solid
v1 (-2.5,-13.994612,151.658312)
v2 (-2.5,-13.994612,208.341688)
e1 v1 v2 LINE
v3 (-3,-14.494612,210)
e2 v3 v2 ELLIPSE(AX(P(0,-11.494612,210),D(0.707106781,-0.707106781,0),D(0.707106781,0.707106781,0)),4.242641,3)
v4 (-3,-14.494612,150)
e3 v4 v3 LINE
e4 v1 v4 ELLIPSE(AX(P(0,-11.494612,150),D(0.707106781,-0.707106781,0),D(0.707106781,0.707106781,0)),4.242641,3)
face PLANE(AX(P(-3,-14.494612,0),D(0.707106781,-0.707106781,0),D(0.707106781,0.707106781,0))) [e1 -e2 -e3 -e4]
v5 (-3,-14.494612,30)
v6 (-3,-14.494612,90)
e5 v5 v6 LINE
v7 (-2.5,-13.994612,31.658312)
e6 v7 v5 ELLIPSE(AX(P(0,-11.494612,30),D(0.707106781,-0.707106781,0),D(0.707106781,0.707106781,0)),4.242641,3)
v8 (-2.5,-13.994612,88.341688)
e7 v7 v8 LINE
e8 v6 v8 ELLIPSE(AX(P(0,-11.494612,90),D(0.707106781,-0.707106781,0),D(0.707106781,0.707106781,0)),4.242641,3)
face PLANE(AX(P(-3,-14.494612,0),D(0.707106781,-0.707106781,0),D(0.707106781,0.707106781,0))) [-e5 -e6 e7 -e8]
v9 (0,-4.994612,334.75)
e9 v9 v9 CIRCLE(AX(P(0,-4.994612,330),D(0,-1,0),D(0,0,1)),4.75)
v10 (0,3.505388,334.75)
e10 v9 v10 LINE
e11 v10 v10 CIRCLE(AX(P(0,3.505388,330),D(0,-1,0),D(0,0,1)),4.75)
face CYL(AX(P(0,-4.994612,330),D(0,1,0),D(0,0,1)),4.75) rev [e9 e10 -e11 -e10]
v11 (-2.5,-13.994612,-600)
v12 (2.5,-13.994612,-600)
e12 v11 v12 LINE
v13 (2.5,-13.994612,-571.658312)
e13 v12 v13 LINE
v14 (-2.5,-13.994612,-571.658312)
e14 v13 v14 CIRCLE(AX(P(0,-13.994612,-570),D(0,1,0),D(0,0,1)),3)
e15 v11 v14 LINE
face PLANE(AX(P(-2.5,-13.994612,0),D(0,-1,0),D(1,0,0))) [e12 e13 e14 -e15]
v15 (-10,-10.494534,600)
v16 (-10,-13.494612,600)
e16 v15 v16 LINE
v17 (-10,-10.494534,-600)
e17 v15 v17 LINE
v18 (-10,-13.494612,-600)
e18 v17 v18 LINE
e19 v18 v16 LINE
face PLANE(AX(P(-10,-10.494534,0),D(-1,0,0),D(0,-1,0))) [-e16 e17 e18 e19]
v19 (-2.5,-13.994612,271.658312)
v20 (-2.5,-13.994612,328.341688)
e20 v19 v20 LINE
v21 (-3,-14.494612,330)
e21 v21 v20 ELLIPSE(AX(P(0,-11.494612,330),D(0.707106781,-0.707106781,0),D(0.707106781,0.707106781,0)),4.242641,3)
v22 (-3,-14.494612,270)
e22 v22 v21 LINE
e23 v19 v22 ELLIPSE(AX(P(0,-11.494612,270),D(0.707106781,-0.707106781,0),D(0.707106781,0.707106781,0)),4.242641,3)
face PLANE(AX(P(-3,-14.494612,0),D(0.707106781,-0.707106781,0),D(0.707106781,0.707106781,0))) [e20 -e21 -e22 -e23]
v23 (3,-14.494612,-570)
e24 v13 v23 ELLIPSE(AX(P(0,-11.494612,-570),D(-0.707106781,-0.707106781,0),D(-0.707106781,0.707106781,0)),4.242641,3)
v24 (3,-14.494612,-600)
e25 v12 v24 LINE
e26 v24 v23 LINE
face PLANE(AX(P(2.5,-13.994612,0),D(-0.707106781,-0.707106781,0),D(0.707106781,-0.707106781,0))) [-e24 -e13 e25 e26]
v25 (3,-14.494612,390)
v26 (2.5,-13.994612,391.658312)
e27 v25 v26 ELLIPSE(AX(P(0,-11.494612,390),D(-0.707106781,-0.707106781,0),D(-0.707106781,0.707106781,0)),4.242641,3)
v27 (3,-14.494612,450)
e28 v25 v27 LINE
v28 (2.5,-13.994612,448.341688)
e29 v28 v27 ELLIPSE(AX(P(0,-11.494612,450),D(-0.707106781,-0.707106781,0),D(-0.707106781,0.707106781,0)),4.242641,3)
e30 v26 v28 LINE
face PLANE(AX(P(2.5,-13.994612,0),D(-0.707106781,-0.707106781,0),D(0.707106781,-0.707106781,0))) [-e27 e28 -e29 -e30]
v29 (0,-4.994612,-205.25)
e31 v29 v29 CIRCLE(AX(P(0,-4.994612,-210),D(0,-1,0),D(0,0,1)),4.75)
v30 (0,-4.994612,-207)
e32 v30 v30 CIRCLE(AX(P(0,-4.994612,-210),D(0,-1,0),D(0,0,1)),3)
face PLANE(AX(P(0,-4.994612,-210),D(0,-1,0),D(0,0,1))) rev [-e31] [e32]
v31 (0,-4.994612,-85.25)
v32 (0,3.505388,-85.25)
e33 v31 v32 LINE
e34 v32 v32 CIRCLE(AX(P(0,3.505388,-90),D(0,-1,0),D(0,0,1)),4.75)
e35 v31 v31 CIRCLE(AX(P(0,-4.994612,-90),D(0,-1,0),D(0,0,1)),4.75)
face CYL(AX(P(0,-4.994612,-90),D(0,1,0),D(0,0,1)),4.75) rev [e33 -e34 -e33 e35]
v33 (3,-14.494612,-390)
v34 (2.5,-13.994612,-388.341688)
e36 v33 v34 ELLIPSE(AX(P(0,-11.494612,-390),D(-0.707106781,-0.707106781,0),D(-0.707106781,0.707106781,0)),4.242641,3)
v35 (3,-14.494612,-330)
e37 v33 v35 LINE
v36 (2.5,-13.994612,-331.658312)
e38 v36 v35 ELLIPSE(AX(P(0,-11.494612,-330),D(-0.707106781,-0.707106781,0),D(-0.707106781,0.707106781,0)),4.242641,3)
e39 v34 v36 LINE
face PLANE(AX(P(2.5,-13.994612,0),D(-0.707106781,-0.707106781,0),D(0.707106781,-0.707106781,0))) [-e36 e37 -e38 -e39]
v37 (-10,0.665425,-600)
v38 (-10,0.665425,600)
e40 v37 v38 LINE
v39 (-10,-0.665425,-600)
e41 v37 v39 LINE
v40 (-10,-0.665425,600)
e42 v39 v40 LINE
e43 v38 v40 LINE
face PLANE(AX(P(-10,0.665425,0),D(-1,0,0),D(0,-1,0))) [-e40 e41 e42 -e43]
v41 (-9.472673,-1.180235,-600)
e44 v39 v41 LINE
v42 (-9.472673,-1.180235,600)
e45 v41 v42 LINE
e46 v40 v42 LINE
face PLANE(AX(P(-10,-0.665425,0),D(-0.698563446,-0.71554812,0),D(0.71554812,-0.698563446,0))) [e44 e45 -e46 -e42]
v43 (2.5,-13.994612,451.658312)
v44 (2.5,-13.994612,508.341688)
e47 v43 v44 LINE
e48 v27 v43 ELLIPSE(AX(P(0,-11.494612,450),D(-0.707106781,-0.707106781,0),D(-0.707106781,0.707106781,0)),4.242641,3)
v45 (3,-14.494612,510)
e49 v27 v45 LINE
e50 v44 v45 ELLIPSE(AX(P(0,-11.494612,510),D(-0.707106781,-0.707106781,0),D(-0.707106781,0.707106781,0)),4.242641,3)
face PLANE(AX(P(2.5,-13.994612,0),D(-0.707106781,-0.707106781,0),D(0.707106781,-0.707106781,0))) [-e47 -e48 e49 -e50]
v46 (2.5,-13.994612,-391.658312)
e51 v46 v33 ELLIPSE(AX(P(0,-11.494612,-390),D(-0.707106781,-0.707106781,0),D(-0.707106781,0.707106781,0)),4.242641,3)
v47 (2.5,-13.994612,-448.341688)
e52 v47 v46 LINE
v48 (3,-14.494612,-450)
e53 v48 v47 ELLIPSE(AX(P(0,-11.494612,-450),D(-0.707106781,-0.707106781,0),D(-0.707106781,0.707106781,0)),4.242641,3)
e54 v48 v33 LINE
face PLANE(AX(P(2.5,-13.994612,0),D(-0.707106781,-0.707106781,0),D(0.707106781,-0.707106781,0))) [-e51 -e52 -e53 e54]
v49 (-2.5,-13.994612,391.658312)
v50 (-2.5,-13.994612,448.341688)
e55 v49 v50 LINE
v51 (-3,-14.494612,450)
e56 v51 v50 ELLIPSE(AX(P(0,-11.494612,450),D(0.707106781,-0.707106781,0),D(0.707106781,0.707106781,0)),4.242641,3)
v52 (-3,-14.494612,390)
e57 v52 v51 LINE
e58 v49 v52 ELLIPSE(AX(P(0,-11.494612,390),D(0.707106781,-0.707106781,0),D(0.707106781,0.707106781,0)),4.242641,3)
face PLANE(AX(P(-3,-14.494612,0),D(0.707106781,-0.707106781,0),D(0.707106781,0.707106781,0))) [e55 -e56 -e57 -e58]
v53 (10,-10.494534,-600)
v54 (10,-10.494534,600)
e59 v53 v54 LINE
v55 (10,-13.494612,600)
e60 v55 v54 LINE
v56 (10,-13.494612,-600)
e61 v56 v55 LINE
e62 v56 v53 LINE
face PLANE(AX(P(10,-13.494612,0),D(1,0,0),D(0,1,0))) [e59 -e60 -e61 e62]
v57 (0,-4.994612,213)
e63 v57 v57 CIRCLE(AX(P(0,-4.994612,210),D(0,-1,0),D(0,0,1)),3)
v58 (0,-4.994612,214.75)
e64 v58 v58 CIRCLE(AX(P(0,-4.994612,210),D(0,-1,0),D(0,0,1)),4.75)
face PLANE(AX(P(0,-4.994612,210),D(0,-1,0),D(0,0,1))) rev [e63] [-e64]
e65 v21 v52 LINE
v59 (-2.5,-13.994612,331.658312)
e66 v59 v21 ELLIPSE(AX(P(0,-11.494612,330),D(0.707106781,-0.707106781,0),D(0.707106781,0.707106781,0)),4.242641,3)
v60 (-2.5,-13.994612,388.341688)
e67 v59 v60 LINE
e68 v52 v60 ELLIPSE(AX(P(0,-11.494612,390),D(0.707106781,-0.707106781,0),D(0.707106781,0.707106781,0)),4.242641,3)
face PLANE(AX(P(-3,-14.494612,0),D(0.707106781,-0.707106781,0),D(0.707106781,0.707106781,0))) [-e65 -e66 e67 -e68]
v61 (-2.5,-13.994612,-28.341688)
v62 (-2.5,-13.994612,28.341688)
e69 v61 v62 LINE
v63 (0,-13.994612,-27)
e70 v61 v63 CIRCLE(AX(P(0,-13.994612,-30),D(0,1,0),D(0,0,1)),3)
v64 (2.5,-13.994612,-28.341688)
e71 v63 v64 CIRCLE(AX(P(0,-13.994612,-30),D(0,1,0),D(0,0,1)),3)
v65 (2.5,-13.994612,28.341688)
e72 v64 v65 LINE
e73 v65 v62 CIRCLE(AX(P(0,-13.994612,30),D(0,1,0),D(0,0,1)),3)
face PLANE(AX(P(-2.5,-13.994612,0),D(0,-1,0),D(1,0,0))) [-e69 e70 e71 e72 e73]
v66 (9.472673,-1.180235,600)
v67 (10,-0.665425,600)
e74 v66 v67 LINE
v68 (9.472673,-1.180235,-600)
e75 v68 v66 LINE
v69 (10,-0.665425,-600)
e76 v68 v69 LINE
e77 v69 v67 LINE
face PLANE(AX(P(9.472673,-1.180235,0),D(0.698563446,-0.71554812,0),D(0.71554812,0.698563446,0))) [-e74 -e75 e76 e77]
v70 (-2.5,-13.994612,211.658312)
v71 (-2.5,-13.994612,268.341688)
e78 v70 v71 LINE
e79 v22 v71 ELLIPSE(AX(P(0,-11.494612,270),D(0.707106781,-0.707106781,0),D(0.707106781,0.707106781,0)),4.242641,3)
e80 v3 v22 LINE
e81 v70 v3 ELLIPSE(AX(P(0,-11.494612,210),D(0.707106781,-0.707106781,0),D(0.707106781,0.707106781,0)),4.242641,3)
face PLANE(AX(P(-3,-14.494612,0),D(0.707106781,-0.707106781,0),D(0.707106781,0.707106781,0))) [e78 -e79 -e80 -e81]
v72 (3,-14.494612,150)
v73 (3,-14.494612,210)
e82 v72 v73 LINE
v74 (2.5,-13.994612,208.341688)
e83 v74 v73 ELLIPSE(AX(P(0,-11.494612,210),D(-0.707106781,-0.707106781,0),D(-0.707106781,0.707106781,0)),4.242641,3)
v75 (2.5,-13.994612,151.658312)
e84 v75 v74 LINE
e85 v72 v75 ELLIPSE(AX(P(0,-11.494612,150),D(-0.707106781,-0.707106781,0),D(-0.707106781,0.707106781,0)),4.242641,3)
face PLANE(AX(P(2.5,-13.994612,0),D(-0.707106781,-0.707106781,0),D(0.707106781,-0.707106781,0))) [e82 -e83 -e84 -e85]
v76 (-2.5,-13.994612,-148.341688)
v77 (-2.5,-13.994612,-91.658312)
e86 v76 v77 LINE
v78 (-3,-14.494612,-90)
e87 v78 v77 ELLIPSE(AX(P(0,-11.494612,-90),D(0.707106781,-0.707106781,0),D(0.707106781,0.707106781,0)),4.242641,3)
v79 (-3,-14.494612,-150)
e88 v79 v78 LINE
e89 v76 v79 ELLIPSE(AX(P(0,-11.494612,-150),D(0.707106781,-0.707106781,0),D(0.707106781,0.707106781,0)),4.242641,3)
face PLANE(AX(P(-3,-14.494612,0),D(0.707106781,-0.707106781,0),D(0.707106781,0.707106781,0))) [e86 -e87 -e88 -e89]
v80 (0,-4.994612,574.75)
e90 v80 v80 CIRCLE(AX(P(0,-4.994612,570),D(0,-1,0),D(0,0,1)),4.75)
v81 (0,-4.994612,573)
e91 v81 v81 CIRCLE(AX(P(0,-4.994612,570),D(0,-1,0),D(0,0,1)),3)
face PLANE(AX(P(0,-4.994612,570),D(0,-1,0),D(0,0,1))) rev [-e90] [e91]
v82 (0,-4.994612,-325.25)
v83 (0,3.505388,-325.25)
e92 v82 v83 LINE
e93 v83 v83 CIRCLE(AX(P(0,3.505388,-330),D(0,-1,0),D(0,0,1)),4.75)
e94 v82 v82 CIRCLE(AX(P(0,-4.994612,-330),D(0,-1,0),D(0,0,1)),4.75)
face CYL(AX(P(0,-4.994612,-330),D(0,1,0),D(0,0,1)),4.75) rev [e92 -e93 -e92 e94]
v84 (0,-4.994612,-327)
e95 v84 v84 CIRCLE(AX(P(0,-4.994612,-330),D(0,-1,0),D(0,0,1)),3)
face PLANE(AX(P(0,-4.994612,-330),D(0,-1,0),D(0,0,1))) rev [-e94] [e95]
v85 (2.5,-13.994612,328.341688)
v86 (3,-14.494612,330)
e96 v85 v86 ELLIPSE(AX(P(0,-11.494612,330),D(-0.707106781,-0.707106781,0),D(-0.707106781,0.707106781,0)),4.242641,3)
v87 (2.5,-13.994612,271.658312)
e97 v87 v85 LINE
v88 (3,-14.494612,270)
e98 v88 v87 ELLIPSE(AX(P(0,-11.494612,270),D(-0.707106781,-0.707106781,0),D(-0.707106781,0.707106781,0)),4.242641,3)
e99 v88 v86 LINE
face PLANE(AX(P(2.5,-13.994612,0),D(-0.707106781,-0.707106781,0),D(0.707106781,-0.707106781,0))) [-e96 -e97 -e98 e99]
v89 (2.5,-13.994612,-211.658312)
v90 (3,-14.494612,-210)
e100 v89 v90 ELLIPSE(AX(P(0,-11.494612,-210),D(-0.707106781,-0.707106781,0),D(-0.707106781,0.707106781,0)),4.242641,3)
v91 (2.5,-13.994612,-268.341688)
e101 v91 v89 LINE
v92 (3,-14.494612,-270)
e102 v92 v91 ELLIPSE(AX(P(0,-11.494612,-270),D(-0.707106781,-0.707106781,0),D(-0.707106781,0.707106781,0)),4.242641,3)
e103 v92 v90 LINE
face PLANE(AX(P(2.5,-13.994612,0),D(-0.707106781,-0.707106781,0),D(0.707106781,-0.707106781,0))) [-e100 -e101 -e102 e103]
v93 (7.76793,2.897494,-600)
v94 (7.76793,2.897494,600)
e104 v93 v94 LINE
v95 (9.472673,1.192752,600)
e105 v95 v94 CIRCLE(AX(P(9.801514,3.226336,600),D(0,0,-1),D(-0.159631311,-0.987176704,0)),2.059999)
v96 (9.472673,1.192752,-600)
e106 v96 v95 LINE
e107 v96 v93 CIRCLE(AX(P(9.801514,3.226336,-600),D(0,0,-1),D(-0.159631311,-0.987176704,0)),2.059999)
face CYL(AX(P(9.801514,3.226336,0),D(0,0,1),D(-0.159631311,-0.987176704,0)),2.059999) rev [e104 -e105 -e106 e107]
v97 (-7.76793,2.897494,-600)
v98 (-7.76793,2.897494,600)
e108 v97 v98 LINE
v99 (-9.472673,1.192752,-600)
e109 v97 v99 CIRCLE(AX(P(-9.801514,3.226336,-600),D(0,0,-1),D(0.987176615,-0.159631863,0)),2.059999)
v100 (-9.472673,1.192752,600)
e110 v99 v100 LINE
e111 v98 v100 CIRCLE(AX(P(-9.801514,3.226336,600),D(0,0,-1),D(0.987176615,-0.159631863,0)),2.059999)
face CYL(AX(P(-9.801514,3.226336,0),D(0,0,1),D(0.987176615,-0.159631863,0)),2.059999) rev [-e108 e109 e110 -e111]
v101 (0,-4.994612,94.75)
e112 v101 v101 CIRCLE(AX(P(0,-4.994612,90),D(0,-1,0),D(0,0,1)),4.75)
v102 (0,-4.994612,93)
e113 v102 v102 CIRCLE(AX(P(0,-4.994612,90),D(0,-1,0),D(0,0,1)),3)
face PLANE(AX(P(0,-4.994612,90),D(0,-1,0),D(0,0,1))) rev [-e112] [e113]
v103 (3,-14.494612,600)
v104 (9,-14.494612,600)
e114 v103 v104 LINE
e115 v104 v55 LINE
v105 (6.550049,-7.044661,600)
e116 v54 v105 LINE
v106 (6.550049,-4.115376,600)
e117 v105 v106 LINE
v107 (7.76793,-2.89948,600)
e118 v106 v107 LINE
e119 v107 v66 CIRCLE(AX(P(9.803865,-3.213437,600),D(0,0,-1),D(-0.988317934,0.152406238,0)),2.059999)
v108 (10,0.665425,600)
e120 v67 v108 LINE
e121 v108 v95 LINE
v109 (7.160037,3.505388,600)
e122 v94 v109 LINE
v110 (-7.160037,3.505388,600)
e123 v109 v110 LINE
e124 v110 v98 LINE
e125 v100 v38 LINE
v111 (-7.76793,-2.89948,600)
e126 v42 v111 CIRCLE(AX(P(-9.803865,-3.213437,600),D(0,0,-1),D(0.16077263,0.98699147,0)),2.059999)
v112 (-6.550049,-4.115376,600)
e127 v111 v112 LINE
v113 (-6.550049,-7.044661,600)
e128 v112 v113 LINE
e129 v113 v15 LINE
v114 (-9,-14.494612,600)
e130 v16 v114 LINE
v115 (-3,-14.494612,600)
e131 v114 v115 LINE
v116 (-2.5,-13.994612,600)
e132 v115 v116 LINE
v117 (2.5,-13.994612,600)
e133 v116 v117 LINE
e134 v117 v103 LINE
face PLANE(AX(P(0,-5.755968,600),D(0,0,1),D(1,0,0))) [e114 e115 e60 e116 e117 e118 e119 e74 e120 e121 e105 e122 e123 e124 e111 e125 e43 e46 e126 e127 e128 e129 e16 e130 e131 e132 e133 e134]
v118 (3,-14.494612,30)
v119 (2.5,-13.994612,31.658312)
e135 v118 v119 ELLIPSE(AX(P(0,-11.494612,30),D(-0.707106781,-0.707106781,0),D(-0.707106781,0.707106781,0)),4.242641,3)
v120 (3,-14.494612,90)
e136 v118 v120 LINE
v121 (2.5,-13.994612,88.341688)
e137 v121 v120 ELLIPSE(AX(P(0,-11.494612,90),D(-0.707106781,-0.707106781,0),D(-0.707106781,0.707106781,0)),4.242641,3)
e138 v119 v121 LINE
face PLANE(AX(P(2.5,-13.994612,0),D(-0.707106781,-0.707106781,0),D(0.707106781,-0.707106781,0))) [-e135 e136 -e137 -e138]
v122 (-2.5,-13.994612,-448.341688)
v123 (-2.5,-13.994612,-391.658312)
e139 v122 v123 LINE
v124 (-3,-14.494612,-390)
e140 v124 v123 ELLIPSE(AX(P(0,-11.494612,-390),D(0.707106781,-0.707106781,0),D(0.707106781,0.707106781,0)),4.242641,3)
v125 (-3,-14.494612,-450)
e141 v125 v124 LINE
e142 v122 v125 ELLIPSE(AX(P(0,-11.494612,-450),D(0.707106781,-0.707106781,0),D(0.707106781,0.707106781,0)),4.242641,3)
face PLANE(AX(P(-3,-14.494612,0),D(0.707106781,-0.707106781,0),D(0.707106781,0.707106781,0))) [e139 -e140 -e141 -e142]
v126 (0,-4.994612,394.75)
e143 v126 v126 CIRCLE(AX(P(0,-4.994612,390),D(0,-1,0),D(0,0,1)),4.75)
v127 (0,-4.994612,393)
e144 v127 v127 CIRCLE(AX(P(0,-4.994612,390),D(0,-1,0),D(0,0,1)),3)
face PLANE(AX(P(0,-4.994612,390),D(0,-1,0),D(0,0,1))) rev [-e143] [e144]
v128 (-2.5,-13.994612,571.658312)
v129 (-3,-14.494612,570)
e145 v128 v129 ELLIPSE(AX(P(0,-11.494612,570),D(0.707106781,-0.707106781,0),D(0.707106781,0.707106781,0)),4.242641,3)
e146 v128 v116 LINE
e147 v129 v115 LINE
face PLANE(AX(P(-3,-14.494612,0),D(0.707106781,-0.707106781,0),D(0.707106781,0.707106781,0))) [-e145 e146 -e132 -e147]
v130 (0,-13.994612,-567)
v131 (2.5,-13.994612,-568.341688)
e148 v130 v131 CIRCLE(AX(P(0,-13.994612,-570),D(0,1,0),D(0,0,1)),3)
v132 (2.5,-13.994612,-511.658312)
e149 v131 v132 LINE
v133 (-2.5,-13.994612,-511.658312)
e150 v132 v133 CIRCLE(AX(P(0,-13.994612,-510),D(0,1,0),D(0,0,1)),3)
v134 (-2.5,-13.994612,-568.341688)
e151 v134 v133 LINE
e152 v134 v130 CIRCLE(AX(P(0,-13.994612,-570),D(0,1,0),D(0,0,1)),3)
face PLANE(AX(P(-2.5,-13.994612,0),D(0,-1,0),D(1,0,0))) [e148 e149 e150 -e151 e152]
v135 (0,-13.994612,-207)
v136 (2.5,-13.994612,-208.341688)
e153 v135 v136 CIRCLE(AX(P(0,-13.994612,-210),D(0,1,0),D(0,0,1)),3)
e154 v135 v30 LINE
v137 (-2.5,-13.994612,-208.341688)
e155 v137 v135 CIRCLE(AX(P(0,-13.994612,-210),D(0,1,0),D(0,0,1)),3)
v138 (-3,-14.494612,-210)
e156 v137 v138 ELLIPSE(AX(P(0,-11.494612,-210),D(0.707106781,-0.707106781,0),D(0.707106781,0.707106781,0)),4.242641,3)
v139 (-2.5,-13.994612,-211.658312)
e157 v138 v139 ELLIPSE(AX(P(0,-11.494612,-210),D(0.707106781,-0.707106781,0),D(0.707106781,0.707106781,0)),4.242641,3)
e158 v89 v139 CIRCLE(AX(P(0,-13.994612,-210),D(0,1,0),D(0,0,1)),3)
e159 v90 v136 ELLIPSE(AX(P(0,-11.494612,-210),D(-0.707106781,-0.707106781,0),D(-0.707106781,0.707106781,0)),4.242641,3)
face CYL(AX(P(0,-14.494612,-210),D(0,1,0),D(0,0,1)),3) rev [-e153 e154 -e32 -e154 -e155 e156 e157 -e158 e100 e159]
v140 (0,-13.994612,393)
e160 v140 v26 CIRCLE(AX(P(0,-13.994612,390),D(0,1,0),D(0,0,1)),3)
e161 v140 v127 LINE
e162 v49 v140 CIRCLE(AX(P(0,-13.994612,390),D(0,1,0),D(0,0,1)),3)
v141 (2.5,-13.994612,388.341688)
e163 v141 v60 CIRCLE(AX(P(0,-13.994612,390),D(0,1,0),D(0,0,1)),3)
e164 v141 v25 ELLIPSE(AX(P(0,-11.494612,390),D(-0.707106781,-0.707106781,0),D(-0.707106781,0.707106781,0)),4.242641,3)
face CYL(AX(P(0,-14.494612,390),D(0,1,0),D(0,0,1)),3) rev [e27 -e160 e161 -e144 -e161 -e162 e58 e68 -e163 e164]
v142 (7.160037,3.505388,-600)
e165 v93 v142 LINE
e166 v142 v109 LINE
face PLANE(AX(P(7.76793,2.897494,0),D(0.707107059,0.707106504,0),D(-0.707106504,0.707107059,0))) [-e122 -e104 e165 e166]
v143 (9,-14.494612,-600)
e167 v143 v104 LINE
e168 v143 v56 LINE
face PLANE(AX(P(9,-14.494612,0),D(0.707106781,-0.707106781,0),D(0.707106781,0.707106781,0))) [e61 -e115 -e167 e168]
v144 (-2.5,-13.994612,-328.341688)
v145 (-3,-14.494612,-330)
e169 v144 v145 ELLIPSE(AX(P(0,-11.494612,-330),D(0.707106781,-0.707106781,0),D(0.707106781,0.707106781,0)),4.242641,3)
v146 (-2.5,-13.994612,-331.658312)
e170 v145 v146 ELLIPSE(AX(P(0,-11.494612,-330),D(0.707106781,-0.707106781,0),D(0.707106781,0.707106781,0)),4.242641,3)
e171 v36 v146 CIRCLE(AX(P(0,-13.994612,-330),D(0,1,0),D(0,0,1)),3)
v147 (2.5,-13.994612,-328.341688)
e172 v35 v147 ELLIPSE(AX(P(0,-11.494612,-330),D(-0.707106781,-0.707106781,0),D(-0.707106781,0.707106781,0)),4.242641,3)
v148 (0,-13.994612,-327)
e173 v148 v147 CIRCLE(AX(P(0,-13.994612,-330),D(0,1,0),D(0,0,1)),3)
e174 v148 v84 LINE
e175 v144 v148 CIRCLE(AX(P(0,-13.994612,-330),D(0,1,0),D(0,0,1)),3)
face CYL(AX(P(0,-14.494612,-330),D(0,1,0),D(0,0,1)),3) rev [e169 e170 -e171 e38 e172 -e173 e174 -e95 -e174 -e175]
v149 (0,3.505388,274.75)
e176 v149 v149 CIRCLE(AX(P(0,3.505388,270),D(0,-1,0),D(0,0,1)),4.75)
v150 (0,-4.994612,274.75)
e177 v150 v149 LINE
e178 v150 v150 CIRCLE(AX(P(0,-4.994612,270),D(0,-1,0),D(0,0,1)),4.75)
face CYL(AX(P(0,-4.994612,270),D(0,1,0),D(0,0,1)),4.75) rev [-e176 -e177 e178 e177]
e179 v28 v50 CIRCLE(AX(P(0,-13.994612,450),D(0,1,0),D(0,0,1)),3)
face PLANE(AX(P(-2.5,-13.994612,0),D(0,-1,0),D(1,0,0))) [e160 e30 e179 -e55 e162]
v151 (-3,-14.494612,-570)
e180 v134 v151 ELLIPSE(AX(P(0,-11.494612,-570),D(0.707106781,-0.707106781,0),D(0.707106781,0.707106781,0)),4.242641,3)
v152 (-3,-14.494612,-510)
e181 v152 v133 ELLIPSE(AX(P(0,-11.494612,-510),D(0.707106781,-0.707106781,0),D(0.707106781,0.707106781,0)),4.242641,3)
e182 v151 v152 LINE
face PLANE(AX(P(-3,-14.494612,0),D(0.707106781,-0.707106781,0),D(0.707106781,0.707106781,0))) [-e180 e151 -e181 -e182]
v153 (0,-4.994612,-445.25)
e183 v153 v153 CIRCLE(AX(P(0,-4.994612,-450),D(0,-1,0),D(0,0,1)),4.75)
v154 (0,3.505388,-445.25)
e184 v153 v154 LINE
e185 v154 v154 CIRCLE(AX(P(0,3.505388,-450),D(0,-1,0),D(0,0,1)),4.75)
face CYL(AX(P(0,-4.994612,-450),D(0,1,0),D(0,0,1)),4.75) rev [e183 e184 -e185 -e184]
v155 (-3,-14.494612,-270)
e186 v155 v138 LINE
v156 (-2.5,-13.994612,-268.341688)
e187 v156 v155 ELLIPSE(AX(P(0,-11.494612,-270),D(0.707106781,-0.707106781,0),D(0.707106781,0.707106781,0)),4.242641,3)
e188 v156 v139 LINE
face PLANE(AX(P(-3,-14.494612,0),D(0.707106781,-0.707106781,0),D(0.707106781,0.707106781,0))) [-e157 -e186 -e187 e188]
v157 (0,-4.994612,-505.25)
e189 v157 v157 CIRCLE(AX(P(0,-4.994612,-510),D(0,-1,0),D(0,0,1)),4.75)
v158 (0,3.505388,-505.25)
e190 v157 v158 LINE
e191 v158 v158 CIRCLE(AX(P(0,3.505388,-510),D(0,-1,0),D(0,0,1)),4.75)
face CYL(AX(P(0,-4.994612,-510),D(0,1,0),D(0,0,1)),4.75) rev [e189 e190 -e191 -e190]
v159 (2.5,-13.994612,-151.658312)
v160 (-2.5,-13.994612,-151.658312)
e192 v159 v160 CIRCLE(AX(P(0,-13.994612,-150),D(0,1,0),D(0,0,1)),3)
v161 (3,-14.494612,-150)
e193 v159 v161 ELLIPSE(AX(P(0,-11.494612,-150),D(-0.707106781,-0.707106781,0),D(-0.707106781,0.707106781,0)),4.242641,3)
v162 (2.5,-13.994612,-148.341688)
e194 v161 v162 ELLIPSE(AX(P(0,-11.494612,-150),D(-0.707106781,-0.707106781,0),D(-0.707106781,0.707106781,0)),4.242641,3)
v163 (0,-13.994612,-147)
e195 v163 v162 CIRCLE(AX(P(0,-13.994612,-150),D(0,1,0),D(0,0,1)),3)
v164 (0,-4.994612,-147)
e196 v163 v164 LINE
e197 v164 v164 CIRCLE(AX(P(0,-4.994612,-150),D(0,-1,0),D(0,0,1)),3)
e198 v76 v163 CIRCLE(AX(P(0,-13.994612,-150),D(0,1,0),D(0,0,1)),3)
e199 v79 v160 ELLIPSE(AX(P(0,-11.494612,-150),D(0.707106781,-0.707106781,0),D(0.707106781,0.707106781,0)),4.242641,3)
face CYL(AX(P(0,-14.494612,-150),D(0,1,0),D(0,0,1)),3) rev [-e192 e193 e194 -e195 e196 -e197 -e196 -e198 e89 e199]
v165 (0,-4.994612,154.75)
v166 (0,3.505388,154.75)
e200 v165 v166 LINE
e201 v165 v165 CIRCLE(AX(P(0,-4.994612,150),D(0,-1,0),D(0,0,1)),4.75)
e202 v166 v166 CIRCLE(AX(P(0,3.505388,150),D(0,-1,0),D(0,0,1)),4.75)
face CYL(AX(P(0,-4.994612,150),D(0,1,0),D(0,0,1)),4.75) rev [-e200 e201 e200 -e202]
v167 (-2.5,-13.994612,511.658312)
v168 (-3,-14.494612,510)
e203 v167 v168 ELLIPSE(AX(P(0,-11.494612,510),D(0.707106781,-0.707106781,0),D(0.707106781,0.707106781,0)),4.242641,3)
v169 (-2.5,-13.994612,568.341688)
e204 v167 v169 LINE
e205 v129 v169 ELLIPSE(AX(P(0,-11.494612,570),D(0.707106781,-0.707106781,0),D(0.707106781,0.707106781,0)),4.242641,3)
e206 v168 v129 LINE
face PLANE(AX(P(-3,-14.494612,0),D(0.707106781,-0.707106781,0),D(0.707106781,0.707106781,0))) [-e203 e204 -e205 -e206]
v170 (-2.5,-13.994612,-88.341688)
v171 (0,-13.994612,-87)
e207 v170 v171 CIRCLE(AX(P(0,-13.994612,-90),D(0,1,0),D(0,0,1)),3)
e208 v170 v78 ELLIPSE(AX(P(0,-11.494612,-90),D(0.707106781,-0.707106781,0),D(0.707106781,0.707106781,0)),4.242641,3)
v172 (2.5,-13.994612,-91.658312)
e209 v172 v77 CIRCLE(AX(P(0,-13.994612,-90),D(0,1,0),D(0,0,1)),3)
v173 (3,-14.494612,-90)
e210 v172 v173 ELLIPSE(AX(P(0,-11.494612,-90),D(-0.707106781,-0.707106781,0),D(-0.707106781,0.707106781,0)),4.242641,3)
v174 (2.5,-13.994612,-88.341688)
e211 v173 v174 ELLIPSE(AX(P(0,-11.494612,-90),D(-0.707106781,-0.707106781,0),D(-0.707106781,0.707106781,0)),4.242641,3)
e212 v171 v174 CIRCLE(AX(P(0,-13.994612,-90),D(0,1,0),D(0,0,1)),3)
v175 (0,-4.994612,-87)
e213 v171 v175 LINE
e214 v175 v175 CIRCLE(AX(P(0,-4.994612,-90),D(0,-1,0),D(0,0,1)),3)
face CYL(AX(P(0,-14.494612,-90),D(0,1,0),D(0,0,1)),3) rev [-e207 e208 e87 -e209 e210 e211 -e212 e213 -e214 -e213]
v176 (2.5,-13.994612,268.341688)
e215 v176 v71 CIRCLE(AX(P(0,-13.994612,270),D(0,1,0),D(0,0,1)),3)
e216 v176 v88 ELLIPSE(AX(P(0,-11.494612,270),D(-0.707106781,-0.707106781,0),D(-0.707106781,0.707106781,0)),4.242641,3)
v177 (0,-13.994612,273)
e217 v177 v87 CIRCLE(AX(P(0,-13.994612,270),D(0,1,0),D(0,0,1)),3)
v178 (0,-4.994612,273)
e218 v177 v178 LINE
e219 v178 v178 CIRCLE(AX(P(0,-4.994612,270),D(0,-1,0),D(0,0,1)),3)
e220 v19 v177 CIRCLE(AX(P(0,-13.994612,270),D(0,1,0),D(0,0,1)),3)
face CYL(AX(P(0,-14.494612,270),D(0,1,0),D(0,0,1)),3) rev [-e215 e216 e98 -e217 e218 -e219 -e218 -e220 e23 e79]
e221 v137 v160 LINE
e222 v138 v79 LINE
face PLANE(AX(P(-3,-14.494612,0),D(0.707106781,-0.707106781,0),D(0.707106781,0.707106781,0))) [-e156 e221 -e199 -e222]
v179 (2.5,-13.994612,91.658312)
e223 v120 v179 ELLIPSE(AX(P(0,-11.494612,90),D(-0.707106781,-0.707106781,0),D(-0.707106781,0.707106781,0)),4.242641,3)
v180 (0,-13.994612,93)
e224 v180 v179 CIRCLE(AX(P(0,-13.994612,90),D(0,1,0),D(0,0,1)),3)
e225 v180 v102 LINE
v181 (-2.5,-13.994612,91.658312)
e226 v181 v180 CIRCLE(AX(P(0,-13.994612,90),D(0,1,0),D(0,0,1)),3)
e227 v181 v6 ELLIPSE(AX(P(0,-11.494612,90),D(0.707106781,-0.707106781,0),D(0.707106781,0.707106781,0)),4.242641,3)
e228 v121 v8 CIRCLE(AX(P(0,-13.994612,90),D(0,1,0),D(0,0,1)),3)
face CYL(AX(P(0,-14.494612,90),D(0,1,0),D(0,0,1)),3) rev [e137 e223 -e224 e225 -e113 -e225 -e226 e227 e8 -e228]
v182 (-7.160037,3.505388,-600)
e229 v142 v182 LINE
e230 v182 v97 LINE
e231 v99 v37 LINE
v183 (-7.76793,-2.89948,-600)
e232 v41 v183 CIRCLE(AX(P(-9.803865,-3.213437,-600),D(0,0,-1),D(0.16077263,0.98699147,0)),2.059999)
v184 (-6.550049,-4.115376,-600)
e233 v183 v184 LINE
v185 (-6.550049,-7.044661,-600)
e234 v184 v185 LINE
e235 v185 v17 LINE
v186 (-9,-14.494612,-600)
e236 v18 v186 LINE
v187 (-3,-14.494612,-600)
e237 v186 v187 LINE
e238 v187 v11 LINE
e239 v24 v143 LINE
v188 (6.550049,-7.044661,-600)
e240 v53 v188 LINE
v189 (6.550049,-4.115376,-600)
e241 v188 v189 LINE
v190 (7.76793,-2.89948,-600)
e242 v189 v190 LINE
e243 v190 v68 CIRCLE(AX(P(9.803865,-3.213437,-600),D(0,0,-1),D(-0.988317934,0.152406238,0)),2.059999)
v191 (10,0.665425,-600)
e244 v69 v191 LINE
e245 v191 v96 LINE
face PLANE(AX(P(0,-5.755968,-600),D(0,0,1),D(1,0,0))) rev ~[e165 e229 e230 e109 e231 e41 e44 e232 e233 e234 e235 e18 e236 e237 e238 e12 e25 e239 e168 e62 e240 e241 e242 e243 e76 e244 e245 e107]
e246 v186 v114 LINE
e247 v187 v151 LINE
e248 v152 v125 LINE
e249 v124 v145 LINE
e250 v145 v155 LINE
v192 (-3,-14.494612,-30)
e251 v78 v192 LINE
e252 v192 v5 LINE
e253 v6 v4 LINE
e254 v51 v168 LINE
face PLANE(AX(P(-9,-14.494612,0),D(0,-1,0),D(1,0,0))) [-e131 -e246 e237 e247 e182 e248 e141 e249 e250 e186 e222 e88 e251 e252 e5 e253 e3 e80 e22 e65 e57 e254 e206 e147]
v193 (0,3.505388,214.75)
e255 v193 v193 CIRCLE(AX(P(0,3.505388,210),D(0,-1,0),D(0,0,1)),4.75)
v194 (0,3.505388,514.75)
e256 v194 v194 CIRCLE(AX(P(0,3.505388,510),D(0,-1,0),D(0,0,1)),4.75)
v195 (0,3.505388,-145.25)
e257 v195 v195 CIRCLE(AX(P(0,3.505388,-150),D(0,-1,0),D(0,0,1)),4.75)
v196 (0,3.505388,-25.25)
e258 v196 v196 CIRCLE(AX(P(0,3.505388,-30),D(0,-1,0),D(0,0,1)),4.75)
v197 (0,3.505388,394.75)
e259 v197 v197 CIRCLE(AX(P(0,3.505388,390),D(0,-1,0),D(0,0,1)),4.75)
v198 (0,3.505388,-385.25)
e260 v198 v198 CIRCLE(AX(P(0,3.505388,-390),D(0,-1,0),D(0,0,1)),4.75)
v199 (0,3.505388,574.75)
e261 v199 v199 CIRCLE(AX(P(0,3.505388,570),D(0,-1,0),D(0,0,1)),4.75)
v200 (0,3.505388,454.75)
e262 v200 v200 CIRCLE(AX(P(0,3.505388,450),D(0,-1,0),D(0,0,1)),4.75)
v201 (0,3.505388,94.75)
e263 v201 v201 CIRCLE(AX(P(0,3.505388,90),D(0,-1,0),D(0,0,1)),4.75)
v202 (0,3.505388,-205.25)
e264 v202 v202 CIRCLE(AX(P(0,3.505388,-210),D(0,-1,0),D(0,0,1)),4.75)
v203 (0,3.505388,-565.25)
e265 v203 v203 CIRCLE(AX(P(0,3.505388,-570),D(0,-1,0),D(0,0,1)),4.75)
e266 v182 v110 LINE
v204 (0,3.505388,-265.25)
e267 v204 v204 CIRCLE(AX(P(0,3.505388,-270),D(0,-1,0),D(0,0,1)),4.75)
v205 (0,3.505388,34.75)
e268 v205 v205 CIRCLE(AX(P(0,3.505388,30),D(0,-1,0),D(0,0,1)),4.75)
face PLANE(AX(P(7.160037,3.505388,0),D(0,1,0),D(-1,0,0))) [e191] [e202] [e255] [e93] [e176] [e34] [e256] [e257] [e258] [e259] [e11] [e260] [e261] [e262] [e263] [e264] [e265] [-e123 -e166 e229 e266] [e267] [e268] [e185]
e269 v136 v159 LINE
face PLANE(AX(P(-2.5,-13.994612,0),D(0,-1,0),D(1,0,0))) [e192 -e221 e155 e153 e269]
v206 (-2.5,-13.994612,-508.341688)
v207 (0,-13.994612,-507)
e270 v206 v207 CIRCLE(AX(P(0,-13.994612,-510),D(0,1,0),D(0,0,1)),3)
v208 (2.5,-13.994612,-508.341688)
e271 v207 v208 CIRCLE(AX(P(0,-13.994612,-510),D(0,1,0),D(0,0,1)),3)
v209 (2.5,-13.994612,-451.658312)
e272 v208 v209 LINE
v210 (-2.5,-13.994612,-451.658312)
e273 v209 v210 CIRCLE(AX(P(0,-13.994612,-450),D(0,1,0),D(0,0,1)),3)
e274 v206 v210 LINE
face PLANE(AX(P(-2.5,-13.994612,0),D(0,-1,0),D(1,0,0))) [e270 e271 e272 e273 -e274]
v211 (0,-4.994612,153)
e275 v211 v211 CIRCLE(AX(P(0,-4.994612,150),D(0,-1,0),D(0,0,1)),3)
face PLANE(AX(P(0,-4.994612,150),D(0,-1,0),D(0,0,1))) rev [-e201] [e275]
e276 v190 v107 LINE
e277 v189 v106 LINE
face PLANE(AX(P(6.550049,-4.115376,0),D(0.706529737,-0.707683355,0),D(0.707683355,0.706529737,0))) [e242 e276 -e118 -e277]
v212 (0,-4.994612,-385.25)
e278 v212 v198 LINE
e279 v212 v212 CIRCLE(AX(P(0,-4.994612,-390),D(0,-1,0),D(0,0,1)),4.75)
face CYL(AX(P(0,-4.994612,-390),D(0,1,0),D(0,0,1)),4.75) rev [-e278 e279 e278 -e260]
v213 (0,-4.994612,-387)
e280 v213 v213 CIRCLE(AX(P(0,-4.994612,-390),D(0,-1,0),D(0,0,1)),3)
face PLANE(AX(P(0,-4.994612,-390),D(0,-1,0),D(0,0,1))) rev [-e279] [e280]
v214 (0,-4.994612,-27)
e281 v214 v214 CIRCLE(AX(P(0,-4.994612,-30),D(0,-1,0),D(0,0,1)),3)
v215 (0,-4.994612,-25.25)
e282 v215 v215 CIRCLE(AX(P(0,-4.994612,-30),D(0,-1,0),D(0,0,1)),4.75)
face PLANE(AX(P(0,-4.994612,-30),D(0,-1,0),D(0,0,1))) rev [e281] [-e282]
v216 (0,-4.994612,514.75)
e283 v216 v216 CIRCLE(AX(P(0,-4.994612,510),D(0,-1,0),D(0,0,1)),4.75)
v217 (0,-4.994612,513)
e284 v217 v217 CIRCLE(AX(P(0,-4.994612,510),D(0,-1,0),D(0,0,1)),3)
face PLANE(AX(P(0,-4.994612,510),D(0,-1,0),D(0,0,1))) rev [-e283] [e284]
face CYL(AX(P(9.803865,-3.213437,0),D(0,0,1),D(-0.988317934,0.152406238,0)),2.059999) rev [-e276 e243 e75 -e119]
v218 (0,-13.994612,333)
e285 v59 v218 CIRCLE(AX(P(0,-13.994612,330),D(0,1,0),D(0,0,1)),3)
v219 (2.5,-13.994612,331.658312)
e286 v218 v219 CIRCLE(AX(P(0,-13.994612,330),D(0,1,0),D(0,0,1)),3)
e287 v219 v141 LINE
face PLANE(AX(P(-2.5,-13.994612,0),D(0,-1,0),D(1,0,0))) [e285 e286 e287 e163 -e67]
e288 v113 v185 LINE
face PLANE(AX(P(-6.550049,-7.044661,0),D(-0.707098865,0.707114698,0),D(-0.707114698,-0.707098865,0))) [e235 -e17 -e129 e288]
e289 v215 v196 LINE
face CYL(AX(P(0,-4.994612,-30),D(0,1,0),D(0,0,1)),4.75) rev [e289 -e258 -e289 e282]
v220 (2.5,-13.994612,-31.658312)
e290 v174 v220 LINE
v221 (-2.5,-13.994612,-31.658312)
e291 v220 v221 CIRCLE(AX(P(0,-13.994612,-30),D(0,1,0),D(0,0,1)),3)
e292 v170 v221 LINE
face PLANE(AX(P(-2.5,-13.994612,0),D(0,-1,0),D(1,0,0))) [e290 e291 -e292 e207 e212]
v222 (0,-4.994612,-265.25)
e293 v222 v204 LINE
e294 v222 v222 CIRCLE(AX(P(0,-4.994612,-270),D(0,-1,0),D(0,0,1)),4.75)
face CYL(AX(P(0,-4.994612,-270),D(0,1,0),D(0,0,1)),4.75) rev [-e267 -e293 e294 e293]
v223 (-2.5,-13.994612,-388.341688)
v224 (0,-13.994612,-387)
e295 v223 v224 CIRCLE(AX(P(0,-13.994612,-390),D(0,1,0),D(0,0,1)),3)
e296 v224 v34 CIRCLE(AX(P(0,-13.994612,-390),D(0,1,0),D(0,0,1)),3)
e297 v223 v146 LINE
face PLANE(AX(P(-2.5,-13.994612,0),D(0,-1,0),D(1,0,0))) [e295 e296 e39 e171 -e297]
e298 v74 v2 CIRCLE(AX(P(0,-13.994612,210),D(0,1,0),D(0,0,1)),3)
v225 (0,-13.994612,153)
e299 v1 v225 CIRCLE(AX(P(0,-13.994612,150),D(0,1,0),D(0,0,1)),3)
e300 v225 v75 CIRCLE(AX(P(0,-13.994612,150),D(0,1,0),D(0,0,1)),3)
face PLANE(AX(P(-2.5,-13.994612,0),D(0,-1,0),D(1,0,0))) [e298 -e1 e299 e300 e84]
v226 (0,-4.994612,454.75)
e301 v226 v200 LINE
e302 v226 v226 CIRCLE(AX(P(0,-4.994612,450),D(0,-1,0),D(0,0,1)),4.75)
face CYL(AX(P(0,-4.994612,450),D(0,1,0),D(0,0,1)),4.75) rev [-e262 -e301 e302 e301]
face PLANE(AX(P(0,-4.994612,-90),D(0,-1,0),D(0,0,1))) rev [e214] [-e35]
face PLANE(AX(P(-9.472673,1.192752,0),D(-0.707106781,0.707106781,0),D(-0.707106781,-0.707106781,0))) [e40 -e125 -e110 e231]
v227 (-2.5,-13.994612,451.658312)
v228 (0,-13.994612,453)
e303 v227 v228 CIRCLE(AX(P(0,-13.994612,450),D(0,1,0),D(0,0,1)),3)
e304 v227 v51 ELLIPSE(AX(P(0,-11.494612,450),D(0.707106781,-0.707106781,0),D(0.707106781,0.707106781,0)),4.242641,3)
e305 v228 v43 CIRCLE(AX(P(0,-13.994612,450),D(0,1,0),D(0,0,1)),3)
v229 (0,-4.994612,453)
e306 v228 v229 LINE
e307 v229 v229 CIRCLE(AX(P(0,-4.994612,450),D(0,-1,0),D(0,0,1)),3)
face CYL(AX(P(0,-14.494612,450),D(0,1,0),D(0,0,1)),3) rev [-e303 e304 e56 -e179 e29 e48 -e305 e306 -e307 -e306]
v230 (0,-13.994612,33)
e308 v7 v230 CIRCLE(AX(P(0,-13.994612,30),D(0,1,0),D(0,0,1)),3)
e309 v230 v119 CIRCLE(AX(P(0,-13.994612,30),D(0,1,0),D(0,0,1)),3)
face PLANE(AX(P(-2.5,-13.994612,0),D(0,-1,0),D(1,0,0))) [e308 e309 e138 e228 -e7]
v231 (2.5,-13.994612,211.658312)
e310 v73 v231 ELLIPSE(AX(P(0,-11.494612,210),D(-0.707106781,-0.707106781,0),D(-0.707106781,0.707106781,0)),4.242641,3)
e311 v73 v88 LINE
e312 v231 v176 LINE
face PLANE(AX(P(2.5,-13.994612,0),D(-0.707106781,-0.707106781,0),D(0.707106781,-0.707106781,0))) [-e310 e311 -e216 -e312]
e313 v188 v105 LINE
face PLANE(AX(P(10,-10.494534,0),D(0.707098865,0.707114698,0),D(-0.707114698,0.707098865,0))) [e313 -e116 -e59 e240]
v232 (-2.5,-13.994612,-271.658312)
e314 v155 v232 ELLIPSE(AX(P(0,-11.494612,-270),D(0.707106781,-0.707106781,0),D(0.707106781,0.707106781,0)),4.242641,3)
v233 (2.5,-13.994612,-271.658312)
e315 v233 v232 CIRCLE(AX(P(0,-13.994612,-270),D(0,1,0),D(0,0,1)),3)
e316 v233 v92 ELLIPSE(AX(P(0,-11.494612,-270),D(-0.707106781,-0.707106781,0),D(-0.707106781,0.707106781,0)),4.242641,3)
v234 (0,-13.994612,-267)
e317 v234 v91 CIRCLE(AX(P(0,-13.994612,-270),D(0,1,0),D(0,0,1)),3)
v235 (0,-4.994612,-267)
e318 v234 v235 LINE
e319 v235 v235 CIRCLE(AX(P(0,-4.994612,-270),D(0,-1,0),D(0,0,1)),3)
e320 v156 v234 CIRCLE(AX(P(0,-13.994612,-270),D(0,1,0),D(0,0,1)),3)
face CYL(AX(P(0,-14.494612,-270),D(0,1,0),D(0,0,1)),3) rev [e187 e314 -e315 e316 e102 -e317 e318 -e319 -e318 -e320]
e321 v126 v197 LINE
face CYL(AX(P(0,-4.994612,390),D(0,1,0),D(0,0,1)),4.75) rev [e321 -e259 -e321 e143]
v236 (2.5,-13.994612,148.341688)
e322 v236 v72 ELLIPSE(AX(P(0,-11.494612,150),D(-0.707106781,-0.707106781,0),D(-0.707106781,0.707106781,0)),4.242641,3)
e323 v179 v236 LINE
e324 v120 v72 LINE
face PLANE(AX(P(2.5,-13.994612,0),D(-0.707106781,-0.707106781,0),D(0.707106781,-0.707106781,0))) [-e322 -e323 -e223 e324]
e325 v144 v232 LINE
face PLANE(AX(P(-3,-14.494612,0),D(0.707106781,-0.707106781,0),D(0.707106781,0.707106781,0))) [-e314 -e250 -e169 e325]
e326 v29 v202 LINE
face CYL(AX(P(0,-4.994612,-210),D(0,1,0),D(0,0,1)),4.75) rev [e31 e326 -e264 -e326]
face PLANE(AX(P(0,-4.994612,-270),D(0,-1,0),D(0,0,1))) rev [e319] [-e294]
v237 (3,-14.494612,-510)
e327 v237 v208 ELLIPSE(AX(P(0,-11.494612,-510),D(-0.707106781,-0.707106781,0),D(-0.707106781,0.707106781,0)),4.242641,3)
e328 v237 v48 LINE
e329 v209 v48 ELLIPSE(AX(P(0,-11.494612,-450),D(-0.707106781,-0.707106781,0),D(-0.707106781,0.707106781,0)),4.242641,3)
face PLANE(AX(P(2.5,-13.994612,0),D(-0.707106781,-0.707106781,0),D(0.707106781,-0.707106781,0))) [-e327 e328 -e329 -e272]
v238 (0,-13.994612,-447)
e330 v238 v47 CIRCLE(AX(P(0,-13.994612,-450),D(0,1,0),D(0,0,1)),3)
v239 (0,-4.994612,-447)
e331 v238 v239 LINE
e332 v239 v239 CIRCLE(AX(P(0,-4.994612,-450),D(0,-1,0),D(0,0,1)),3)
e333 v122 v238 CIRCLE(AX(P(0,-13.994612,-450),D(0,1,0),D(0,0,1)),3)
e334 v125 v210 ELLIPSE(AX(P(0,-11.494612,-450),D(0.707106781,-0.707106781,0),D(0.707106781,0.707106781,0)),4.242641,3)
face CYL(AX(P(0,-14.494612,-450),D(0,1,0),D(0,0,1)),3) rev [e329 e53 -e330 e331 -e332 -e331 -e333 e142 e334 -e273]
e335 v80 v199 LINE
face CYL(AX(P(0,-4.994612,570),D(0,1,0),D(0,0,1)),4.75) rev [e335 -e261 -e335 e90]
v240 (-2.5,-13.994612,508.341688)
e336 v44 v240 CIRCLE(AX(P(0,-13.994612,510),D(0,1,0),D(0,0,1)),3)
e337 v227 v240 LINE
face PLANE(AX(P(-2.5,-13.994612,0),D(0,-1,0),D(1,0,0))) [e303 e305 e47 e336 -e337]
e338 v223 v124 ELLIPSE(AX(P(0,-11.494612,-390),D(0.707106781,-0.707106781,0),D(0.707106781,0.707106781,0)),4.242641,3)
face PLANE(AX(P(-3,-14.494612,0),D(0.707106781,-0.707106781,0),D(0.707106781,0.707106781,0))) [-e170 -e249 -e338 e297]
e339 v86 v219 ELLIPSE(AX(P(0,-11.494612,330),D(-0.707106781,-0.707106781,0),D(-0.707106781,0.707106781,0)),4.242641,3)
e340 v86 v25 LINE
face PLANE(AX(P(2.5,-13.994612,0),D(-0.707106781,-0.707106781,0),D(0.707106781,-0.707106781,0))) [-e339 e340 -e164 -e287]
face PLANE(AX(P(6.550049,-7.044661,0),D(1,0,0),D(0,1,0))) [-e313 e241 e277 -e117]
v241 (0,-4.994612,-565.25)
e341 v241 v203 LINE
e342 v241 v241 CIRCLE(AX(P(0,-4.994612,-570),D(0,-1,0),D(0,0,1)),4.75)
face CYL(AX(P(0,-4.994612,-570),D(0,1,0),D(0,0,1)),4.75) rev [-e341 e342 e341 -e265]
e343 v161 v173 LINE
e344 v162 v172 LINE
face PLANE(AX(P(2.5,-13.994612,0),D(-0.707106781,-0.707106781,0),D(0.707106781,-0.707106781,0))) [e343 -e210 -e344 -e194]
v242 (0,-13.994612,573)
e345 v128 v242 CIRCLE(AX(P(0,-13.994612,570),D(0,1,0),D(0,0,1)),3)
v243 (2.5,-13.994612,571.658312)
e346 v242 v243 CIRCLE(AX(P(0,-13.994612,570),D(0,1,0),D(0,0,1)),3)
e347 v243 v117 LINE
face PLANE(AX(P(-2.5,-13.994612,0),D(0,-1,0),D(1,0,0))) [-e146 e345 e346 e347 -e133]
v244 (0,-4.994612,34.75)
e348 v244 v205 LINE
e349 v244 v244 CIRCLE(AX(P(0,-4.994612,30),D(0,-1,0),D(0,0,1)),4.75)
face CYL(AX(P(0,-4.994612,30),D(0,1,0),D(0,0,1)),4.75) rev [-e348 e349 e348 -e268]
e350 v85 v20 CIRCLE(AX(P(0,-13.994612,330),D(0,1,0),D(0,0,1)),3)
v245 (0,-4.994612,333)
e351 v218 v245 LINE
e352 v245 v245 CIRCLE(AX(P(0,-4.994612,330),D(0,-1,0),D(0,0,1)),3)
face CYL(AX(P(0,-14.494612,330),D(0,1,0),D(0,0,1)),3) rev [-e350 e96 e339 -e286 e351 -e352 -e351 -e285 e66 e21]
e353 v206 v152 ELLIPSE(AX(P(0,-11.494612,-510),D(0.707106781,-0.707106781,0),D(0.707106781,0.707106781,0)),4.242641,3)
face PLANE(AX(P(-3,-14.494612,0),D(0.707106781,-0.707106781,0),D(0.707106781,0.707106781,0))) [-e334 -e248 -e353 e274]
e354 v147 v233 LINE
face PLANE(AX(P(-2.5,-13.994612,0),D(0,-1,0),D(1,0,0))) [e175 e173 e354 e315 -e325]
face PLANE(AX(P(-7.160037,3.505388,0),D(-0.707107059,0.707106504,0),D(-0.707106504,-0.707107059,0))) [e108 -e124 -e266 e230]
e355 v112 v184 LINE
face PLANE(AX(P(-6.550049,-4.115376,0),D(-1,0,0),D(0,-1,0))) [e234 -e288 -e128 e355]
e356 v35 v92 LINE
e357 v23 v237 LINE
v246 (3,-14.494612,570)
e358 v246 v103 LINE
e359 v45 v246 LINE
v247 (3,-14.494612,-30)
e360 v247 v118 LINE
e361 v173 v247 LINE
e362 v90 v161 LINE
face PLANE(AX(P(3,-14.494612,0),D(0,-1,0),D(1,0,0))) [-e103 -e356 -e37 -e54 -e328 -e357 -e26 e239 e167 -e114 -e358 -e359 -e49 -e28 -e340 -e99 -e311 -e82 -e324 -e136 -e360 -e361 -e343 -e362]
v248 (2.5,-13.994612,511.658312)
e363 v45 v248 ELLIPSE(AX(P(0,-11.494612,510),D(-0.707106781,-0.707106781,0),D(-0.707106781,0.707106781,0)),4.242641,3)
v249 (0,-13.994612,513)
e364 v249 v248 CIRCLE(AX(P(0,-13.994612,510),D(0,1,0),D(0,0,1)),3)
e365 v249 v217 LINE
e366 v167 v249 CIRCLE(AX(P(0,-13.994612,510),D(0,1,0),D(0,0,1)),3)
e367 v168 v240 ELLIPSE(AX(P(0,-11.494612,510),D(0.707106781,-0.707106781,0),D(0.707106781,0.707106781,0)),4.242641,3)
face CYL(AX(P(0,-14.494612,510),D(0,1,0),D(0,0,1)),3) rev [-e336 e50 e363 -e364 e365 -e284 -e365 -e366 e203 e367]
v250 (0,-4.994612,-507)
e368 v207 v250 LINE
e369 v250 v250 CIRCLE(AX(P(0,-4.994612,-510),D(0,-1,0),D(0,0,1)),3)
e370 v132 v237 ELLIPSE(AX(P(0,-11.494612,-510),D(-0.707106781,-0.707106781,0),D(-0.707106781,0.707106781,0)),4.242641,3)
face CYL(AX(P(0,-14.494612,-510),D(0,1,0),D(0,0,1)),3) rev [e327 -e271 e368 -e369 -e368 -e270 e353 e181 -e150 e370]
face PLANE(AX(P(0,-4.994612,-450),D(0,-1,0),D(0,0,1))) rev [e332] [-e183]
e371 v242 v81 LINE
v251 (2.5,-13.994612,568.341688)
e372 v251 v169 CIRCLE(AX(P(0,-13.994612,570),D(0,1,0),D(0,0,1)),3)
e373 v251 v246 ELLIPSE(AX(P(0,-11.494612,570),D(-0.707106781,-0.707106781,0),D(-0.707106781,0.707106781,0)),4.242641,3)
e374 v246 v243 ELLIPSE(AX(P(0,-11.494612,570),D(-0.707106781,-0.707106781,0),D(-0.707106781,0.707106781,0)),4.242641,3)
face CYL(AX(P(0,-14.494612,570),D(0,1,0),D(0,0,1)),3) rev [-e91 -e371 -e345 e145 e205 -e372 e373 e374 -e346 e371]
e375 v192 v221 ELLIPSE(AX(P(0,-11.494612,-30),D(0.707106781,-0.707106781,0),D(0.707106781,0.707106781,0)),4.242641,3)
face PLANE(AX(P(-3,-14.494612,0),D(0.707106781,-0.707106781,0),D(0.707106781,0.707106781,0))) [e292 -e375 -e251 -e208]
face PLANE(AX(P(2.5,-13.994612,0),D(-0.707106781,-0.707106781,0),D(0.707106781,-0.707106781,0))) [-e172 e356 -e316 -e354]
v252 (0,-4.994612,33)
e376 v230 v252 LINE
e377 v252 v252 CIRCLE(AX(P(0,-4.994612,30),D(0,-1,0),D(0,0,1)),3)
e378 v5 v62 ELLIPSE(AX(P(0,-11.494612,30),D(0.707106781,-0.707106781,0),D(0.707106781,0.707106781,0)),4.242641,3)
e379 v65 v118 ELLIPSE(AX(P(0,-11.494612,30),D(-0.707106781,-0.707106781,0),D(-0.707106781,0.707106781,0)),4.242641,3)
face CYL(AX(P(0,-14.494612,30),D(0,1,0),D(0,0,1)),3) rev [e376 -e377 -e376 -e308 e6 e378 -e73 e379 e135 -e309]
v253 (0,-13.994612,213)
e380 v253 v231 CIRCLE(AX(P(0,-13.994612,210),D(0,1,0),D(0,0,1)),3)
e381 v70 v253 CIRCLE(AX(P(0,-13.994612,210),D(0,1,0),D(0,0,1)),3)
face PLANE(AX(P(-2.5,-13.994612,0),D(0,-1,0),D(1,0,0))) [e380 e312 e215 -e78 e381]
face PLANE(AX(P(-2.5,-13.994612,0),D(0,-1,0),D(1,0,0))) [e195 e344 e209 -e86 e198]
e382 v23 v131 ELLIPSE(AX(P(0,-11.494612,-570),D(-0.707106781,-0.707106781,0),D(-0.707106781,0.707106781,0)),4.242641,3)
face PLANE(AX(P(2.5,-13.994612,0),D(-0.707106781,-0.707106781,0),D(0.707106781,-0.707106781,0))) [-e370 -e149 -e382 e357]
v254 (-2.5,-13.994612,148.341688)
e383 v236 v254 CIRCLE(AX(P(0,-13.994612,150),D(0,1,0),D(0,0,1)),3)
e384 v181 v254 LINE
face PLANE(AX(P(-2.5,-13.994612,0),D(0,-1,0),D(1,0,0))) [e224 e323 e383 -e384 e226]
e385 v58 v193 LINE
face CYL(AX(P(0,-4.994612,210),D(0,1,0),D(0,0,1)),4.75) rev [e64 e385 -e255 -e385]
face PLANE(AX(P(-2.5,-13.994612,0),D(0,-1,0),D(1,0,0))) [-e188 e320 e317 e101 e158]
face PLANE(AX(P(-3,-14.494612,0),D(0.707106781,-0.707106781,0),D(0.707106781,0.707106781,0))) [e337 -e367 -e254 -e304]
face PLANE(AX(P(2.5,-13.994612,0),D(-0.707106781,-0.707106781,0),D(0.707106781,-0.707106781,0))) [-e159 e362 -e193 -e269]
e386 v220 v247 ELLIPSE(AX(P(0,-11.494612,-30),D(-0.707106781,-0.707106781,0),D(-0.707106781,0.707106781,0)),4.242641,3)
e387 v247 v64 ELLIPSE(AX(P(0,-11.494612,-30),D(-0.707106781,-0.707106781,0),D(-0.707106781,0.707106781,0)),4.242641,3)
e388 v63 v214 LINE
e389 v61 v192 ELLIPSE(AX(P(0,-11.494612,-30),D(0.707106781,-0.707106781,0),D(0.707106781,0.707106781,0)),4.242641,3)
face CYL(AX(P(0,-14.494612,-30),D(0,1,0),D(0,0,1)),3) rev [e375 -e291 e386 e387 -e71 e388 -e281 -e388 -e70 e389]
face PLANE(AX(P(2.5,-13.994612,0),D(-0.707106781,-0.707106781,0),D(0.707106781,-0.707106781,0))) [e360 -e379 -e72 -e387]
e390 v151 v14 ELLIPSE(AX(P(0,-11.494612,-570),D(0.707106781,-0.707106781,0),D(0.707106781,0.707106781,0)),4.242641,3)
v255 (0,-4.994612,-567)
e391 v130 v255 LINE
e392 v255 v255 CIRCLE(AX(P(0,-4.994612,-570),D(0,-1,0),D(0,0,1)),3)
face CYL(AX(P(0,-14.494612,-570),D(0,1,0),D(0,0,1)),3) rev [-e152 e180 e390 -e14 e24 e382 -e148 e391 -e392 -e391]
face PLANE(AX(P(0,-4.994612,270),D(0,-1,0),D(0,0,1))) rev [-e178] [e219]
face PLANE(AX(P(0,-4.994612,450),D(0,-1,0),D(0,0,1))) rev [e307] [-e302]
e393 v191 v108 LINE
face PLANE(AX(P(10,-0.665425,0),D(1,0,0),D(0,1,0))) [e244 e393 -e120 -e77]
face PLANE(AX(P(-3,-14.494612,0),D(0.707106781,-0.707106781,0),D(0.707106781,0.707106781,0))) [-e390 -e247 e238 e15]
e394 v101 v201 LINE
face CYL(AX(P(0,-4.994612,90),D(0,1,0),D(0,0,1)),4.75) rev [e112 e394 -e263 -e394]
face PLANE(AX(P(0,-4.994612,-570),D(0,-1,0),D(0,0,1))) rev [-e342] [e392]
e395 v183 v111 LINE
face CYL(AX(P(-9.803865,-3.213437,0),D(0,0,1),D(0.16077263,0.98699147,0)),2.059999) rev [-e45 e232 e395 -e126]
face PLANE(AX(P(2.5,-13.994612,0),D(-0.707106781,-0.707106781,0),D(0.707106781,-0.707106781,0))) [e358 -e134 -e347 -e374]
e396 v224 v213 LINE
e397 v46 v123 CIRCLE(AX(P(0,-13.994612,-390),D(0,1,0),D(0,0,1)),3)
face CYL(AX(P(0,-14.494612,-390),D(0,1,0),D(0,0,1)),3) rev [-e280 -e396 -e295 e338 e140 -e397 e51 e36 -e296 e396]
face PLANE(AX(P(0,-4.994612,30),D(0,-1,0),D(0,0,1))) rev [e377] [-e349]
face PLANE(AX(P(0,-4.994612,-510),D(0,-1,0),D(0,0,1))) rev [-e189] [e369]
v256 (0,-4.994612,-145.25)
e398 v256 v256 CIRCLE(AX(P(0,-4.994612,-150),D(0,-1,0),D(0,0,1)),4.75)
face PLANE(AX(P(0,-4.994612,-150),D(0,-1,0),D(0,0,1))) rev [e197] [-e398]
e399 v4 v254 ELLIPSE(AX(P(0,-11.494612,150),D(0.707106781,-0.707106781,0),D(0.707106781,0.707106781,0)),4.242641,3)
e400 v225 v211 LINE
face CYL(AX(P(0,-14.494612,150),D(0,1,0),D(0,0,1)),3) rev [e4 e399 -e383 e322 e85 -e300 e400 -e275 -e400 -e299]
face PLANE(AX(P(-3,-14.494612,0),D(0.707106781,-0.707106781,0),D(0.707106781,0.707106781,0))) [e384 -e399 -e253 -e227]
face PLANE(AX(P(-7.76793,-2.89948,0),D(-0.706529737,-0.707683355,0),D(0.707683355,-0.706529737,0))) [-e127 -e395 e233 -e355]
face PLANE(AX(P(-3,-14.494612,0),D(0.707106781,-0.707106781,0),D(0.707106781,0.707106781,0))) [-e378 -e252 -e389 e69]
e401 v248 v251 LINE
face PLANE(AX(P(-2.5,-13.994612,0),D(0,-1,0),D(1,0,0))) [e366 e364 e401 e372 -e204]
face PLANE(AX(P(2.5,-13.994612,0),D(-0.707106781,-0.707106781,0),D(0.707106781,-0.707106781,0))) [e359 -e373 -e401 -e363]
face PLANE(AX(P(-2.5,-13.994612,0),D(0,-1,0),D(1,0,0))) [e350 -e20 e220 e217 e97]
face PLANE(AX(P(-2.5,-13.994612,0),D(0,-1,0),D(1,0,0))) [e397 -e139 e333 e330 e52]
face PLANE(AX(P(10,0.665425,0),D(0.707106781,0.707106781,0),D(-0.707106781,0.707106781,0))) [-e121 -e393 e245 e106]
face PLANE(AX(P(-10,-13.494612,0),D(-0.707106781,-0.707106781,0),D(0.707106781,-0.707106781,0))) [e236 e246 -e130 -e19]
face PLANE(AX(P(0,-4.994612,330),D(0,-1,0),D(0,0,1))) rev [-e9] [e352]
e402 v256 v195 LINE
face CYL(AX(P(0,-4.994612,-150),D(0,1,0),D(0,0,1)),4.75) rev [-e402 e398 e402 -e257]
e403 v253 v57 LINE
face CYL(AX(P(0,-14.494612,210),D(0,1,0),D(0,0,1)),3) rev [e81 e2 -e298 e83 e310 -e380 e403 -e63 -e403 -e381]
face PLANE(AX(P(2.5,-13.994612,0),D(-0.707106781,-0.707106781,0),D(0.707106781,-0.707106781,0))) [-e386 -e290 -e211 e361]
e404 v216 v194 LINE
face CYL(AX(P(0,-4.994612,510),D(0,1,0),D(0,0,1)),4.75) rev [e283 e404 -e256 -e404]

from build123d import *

# Parameters (mm, degrees)
BOSS_EXTRUDE1_DEPTH = 600
LPATTERN1_COUNT     = 20
LPATTERN1_PITCH     = 60


with BuildPart() as part:
    # Sketch1 → Boss-Extrude1 (new, symmetric)
    with BuildSketch(Plane.XY):
        with BuildLine():
            Line((-10, -10.494534492), (-10, -13.49461174))
            Line((-10, -13.49461174), (-9, -14.49461174))
            Line((-9, -14.49461174), (-3, -14.49461174))
            Line((-3, -14.49461174), (-2.5, -13.99461174))
            Line((-2.5, -13.99461174), (2.5, -13.99461174))
            Line((2.5, -13.99461174), (3, -14.49461174))
            Line((3, -14.49461174), (9, -14.49461174))
            Line((9, -14.49461174), (10, -13.49461174))
            Line((10, -13.49461174), (10, -10.494534492))
            Line((10, -10.494534492), (6.550048828, -7.044660568))
            Line((6.550048828, -7.044660568), (6.550048828, -4.115376472))
            Line((6.550048828, -4.115376472), (7.767930373, -2.899480236))
            ThreePointArc((7.767930373, -2.899480236), (8.341068744, -1.762979997), (9.472673258, -1.180235103))
            Line((9.472673258, -1.180235103), (10, -0.665425301))
            Line((10, -0.665425301), (10, 0.665425301))
            Line((10, 0.665425301), (9.472673258, 1.192752043))
            ThreePointArc((9.472673258, 1.192752043), (8.344874488, 1.769695527), (7.767930373, 2.897493974))
            Line((7.767930373, 2.897493974), (7.160036564, 3.50538826))
            Line((7.160036564, 3.50538826), (-7.160036564, 3.50538826))
            Line((-7.160036564, 3.50538826), (-7.767930373, 2.897493974))
            ThreePointArc((-7.767930373, 2.897493974), (-8.344874488, 1.769695527), (-9.472673258, 1.192752043))
            Line((-9.472673258, 1.192752043), (-10, 0.665425301))
            Line((-10, 0.665425301), (-10, -0.665425301))
            Line((-10, -0.665425301), (-9.472673258, -1.180235103))
            ThreePointArc((-9.472673258, -1.180235103), (-8.341068744, -1.762979997), (-7.767930373, -2.899480236))
            Line((-7.767930373, -2.899480236), (-6.550048828, -4.115376472))
            Line((-6.550048828, -4.115376472), (-6.550048828, -7.044660568))
            Line((-6.550048828, -7.044660568), (-10, -10.494534492))
        make_face()
    extrude(amount=BOSS_EXTRUDE1_DEPTH, both=True)

    # Sketch2 → Cut-Revolve1 (revolve, cut)
    with BuildSketch(Plane(origin=(0, 0, 0), x_dir=(0, 0, -1), z_dir=(1, 0, 0))):
        Polygon((-570, 3.50538826), (-570, -14.49461174), (-573, -14.49461174), (-573, -4.99461174), (-574.75, -4.99461174), (-574.75, 3.50538826), align=None)
    cut_revolve1 = revolve(axis=Axis((0, 3.50538826, 570), (0, -1, 0)), mode=Mode.SUBTRACT)

    # LPattern1: Cut-Revolve1 ×20
    with Locations(*[(0, 0, -i * LPATTERN1_PITCH) for i in range(1, LPATTERN1_COUNT)]):
        add(cut_revolve1, mode=Mode.SUBTRACT)


solid = part.part
